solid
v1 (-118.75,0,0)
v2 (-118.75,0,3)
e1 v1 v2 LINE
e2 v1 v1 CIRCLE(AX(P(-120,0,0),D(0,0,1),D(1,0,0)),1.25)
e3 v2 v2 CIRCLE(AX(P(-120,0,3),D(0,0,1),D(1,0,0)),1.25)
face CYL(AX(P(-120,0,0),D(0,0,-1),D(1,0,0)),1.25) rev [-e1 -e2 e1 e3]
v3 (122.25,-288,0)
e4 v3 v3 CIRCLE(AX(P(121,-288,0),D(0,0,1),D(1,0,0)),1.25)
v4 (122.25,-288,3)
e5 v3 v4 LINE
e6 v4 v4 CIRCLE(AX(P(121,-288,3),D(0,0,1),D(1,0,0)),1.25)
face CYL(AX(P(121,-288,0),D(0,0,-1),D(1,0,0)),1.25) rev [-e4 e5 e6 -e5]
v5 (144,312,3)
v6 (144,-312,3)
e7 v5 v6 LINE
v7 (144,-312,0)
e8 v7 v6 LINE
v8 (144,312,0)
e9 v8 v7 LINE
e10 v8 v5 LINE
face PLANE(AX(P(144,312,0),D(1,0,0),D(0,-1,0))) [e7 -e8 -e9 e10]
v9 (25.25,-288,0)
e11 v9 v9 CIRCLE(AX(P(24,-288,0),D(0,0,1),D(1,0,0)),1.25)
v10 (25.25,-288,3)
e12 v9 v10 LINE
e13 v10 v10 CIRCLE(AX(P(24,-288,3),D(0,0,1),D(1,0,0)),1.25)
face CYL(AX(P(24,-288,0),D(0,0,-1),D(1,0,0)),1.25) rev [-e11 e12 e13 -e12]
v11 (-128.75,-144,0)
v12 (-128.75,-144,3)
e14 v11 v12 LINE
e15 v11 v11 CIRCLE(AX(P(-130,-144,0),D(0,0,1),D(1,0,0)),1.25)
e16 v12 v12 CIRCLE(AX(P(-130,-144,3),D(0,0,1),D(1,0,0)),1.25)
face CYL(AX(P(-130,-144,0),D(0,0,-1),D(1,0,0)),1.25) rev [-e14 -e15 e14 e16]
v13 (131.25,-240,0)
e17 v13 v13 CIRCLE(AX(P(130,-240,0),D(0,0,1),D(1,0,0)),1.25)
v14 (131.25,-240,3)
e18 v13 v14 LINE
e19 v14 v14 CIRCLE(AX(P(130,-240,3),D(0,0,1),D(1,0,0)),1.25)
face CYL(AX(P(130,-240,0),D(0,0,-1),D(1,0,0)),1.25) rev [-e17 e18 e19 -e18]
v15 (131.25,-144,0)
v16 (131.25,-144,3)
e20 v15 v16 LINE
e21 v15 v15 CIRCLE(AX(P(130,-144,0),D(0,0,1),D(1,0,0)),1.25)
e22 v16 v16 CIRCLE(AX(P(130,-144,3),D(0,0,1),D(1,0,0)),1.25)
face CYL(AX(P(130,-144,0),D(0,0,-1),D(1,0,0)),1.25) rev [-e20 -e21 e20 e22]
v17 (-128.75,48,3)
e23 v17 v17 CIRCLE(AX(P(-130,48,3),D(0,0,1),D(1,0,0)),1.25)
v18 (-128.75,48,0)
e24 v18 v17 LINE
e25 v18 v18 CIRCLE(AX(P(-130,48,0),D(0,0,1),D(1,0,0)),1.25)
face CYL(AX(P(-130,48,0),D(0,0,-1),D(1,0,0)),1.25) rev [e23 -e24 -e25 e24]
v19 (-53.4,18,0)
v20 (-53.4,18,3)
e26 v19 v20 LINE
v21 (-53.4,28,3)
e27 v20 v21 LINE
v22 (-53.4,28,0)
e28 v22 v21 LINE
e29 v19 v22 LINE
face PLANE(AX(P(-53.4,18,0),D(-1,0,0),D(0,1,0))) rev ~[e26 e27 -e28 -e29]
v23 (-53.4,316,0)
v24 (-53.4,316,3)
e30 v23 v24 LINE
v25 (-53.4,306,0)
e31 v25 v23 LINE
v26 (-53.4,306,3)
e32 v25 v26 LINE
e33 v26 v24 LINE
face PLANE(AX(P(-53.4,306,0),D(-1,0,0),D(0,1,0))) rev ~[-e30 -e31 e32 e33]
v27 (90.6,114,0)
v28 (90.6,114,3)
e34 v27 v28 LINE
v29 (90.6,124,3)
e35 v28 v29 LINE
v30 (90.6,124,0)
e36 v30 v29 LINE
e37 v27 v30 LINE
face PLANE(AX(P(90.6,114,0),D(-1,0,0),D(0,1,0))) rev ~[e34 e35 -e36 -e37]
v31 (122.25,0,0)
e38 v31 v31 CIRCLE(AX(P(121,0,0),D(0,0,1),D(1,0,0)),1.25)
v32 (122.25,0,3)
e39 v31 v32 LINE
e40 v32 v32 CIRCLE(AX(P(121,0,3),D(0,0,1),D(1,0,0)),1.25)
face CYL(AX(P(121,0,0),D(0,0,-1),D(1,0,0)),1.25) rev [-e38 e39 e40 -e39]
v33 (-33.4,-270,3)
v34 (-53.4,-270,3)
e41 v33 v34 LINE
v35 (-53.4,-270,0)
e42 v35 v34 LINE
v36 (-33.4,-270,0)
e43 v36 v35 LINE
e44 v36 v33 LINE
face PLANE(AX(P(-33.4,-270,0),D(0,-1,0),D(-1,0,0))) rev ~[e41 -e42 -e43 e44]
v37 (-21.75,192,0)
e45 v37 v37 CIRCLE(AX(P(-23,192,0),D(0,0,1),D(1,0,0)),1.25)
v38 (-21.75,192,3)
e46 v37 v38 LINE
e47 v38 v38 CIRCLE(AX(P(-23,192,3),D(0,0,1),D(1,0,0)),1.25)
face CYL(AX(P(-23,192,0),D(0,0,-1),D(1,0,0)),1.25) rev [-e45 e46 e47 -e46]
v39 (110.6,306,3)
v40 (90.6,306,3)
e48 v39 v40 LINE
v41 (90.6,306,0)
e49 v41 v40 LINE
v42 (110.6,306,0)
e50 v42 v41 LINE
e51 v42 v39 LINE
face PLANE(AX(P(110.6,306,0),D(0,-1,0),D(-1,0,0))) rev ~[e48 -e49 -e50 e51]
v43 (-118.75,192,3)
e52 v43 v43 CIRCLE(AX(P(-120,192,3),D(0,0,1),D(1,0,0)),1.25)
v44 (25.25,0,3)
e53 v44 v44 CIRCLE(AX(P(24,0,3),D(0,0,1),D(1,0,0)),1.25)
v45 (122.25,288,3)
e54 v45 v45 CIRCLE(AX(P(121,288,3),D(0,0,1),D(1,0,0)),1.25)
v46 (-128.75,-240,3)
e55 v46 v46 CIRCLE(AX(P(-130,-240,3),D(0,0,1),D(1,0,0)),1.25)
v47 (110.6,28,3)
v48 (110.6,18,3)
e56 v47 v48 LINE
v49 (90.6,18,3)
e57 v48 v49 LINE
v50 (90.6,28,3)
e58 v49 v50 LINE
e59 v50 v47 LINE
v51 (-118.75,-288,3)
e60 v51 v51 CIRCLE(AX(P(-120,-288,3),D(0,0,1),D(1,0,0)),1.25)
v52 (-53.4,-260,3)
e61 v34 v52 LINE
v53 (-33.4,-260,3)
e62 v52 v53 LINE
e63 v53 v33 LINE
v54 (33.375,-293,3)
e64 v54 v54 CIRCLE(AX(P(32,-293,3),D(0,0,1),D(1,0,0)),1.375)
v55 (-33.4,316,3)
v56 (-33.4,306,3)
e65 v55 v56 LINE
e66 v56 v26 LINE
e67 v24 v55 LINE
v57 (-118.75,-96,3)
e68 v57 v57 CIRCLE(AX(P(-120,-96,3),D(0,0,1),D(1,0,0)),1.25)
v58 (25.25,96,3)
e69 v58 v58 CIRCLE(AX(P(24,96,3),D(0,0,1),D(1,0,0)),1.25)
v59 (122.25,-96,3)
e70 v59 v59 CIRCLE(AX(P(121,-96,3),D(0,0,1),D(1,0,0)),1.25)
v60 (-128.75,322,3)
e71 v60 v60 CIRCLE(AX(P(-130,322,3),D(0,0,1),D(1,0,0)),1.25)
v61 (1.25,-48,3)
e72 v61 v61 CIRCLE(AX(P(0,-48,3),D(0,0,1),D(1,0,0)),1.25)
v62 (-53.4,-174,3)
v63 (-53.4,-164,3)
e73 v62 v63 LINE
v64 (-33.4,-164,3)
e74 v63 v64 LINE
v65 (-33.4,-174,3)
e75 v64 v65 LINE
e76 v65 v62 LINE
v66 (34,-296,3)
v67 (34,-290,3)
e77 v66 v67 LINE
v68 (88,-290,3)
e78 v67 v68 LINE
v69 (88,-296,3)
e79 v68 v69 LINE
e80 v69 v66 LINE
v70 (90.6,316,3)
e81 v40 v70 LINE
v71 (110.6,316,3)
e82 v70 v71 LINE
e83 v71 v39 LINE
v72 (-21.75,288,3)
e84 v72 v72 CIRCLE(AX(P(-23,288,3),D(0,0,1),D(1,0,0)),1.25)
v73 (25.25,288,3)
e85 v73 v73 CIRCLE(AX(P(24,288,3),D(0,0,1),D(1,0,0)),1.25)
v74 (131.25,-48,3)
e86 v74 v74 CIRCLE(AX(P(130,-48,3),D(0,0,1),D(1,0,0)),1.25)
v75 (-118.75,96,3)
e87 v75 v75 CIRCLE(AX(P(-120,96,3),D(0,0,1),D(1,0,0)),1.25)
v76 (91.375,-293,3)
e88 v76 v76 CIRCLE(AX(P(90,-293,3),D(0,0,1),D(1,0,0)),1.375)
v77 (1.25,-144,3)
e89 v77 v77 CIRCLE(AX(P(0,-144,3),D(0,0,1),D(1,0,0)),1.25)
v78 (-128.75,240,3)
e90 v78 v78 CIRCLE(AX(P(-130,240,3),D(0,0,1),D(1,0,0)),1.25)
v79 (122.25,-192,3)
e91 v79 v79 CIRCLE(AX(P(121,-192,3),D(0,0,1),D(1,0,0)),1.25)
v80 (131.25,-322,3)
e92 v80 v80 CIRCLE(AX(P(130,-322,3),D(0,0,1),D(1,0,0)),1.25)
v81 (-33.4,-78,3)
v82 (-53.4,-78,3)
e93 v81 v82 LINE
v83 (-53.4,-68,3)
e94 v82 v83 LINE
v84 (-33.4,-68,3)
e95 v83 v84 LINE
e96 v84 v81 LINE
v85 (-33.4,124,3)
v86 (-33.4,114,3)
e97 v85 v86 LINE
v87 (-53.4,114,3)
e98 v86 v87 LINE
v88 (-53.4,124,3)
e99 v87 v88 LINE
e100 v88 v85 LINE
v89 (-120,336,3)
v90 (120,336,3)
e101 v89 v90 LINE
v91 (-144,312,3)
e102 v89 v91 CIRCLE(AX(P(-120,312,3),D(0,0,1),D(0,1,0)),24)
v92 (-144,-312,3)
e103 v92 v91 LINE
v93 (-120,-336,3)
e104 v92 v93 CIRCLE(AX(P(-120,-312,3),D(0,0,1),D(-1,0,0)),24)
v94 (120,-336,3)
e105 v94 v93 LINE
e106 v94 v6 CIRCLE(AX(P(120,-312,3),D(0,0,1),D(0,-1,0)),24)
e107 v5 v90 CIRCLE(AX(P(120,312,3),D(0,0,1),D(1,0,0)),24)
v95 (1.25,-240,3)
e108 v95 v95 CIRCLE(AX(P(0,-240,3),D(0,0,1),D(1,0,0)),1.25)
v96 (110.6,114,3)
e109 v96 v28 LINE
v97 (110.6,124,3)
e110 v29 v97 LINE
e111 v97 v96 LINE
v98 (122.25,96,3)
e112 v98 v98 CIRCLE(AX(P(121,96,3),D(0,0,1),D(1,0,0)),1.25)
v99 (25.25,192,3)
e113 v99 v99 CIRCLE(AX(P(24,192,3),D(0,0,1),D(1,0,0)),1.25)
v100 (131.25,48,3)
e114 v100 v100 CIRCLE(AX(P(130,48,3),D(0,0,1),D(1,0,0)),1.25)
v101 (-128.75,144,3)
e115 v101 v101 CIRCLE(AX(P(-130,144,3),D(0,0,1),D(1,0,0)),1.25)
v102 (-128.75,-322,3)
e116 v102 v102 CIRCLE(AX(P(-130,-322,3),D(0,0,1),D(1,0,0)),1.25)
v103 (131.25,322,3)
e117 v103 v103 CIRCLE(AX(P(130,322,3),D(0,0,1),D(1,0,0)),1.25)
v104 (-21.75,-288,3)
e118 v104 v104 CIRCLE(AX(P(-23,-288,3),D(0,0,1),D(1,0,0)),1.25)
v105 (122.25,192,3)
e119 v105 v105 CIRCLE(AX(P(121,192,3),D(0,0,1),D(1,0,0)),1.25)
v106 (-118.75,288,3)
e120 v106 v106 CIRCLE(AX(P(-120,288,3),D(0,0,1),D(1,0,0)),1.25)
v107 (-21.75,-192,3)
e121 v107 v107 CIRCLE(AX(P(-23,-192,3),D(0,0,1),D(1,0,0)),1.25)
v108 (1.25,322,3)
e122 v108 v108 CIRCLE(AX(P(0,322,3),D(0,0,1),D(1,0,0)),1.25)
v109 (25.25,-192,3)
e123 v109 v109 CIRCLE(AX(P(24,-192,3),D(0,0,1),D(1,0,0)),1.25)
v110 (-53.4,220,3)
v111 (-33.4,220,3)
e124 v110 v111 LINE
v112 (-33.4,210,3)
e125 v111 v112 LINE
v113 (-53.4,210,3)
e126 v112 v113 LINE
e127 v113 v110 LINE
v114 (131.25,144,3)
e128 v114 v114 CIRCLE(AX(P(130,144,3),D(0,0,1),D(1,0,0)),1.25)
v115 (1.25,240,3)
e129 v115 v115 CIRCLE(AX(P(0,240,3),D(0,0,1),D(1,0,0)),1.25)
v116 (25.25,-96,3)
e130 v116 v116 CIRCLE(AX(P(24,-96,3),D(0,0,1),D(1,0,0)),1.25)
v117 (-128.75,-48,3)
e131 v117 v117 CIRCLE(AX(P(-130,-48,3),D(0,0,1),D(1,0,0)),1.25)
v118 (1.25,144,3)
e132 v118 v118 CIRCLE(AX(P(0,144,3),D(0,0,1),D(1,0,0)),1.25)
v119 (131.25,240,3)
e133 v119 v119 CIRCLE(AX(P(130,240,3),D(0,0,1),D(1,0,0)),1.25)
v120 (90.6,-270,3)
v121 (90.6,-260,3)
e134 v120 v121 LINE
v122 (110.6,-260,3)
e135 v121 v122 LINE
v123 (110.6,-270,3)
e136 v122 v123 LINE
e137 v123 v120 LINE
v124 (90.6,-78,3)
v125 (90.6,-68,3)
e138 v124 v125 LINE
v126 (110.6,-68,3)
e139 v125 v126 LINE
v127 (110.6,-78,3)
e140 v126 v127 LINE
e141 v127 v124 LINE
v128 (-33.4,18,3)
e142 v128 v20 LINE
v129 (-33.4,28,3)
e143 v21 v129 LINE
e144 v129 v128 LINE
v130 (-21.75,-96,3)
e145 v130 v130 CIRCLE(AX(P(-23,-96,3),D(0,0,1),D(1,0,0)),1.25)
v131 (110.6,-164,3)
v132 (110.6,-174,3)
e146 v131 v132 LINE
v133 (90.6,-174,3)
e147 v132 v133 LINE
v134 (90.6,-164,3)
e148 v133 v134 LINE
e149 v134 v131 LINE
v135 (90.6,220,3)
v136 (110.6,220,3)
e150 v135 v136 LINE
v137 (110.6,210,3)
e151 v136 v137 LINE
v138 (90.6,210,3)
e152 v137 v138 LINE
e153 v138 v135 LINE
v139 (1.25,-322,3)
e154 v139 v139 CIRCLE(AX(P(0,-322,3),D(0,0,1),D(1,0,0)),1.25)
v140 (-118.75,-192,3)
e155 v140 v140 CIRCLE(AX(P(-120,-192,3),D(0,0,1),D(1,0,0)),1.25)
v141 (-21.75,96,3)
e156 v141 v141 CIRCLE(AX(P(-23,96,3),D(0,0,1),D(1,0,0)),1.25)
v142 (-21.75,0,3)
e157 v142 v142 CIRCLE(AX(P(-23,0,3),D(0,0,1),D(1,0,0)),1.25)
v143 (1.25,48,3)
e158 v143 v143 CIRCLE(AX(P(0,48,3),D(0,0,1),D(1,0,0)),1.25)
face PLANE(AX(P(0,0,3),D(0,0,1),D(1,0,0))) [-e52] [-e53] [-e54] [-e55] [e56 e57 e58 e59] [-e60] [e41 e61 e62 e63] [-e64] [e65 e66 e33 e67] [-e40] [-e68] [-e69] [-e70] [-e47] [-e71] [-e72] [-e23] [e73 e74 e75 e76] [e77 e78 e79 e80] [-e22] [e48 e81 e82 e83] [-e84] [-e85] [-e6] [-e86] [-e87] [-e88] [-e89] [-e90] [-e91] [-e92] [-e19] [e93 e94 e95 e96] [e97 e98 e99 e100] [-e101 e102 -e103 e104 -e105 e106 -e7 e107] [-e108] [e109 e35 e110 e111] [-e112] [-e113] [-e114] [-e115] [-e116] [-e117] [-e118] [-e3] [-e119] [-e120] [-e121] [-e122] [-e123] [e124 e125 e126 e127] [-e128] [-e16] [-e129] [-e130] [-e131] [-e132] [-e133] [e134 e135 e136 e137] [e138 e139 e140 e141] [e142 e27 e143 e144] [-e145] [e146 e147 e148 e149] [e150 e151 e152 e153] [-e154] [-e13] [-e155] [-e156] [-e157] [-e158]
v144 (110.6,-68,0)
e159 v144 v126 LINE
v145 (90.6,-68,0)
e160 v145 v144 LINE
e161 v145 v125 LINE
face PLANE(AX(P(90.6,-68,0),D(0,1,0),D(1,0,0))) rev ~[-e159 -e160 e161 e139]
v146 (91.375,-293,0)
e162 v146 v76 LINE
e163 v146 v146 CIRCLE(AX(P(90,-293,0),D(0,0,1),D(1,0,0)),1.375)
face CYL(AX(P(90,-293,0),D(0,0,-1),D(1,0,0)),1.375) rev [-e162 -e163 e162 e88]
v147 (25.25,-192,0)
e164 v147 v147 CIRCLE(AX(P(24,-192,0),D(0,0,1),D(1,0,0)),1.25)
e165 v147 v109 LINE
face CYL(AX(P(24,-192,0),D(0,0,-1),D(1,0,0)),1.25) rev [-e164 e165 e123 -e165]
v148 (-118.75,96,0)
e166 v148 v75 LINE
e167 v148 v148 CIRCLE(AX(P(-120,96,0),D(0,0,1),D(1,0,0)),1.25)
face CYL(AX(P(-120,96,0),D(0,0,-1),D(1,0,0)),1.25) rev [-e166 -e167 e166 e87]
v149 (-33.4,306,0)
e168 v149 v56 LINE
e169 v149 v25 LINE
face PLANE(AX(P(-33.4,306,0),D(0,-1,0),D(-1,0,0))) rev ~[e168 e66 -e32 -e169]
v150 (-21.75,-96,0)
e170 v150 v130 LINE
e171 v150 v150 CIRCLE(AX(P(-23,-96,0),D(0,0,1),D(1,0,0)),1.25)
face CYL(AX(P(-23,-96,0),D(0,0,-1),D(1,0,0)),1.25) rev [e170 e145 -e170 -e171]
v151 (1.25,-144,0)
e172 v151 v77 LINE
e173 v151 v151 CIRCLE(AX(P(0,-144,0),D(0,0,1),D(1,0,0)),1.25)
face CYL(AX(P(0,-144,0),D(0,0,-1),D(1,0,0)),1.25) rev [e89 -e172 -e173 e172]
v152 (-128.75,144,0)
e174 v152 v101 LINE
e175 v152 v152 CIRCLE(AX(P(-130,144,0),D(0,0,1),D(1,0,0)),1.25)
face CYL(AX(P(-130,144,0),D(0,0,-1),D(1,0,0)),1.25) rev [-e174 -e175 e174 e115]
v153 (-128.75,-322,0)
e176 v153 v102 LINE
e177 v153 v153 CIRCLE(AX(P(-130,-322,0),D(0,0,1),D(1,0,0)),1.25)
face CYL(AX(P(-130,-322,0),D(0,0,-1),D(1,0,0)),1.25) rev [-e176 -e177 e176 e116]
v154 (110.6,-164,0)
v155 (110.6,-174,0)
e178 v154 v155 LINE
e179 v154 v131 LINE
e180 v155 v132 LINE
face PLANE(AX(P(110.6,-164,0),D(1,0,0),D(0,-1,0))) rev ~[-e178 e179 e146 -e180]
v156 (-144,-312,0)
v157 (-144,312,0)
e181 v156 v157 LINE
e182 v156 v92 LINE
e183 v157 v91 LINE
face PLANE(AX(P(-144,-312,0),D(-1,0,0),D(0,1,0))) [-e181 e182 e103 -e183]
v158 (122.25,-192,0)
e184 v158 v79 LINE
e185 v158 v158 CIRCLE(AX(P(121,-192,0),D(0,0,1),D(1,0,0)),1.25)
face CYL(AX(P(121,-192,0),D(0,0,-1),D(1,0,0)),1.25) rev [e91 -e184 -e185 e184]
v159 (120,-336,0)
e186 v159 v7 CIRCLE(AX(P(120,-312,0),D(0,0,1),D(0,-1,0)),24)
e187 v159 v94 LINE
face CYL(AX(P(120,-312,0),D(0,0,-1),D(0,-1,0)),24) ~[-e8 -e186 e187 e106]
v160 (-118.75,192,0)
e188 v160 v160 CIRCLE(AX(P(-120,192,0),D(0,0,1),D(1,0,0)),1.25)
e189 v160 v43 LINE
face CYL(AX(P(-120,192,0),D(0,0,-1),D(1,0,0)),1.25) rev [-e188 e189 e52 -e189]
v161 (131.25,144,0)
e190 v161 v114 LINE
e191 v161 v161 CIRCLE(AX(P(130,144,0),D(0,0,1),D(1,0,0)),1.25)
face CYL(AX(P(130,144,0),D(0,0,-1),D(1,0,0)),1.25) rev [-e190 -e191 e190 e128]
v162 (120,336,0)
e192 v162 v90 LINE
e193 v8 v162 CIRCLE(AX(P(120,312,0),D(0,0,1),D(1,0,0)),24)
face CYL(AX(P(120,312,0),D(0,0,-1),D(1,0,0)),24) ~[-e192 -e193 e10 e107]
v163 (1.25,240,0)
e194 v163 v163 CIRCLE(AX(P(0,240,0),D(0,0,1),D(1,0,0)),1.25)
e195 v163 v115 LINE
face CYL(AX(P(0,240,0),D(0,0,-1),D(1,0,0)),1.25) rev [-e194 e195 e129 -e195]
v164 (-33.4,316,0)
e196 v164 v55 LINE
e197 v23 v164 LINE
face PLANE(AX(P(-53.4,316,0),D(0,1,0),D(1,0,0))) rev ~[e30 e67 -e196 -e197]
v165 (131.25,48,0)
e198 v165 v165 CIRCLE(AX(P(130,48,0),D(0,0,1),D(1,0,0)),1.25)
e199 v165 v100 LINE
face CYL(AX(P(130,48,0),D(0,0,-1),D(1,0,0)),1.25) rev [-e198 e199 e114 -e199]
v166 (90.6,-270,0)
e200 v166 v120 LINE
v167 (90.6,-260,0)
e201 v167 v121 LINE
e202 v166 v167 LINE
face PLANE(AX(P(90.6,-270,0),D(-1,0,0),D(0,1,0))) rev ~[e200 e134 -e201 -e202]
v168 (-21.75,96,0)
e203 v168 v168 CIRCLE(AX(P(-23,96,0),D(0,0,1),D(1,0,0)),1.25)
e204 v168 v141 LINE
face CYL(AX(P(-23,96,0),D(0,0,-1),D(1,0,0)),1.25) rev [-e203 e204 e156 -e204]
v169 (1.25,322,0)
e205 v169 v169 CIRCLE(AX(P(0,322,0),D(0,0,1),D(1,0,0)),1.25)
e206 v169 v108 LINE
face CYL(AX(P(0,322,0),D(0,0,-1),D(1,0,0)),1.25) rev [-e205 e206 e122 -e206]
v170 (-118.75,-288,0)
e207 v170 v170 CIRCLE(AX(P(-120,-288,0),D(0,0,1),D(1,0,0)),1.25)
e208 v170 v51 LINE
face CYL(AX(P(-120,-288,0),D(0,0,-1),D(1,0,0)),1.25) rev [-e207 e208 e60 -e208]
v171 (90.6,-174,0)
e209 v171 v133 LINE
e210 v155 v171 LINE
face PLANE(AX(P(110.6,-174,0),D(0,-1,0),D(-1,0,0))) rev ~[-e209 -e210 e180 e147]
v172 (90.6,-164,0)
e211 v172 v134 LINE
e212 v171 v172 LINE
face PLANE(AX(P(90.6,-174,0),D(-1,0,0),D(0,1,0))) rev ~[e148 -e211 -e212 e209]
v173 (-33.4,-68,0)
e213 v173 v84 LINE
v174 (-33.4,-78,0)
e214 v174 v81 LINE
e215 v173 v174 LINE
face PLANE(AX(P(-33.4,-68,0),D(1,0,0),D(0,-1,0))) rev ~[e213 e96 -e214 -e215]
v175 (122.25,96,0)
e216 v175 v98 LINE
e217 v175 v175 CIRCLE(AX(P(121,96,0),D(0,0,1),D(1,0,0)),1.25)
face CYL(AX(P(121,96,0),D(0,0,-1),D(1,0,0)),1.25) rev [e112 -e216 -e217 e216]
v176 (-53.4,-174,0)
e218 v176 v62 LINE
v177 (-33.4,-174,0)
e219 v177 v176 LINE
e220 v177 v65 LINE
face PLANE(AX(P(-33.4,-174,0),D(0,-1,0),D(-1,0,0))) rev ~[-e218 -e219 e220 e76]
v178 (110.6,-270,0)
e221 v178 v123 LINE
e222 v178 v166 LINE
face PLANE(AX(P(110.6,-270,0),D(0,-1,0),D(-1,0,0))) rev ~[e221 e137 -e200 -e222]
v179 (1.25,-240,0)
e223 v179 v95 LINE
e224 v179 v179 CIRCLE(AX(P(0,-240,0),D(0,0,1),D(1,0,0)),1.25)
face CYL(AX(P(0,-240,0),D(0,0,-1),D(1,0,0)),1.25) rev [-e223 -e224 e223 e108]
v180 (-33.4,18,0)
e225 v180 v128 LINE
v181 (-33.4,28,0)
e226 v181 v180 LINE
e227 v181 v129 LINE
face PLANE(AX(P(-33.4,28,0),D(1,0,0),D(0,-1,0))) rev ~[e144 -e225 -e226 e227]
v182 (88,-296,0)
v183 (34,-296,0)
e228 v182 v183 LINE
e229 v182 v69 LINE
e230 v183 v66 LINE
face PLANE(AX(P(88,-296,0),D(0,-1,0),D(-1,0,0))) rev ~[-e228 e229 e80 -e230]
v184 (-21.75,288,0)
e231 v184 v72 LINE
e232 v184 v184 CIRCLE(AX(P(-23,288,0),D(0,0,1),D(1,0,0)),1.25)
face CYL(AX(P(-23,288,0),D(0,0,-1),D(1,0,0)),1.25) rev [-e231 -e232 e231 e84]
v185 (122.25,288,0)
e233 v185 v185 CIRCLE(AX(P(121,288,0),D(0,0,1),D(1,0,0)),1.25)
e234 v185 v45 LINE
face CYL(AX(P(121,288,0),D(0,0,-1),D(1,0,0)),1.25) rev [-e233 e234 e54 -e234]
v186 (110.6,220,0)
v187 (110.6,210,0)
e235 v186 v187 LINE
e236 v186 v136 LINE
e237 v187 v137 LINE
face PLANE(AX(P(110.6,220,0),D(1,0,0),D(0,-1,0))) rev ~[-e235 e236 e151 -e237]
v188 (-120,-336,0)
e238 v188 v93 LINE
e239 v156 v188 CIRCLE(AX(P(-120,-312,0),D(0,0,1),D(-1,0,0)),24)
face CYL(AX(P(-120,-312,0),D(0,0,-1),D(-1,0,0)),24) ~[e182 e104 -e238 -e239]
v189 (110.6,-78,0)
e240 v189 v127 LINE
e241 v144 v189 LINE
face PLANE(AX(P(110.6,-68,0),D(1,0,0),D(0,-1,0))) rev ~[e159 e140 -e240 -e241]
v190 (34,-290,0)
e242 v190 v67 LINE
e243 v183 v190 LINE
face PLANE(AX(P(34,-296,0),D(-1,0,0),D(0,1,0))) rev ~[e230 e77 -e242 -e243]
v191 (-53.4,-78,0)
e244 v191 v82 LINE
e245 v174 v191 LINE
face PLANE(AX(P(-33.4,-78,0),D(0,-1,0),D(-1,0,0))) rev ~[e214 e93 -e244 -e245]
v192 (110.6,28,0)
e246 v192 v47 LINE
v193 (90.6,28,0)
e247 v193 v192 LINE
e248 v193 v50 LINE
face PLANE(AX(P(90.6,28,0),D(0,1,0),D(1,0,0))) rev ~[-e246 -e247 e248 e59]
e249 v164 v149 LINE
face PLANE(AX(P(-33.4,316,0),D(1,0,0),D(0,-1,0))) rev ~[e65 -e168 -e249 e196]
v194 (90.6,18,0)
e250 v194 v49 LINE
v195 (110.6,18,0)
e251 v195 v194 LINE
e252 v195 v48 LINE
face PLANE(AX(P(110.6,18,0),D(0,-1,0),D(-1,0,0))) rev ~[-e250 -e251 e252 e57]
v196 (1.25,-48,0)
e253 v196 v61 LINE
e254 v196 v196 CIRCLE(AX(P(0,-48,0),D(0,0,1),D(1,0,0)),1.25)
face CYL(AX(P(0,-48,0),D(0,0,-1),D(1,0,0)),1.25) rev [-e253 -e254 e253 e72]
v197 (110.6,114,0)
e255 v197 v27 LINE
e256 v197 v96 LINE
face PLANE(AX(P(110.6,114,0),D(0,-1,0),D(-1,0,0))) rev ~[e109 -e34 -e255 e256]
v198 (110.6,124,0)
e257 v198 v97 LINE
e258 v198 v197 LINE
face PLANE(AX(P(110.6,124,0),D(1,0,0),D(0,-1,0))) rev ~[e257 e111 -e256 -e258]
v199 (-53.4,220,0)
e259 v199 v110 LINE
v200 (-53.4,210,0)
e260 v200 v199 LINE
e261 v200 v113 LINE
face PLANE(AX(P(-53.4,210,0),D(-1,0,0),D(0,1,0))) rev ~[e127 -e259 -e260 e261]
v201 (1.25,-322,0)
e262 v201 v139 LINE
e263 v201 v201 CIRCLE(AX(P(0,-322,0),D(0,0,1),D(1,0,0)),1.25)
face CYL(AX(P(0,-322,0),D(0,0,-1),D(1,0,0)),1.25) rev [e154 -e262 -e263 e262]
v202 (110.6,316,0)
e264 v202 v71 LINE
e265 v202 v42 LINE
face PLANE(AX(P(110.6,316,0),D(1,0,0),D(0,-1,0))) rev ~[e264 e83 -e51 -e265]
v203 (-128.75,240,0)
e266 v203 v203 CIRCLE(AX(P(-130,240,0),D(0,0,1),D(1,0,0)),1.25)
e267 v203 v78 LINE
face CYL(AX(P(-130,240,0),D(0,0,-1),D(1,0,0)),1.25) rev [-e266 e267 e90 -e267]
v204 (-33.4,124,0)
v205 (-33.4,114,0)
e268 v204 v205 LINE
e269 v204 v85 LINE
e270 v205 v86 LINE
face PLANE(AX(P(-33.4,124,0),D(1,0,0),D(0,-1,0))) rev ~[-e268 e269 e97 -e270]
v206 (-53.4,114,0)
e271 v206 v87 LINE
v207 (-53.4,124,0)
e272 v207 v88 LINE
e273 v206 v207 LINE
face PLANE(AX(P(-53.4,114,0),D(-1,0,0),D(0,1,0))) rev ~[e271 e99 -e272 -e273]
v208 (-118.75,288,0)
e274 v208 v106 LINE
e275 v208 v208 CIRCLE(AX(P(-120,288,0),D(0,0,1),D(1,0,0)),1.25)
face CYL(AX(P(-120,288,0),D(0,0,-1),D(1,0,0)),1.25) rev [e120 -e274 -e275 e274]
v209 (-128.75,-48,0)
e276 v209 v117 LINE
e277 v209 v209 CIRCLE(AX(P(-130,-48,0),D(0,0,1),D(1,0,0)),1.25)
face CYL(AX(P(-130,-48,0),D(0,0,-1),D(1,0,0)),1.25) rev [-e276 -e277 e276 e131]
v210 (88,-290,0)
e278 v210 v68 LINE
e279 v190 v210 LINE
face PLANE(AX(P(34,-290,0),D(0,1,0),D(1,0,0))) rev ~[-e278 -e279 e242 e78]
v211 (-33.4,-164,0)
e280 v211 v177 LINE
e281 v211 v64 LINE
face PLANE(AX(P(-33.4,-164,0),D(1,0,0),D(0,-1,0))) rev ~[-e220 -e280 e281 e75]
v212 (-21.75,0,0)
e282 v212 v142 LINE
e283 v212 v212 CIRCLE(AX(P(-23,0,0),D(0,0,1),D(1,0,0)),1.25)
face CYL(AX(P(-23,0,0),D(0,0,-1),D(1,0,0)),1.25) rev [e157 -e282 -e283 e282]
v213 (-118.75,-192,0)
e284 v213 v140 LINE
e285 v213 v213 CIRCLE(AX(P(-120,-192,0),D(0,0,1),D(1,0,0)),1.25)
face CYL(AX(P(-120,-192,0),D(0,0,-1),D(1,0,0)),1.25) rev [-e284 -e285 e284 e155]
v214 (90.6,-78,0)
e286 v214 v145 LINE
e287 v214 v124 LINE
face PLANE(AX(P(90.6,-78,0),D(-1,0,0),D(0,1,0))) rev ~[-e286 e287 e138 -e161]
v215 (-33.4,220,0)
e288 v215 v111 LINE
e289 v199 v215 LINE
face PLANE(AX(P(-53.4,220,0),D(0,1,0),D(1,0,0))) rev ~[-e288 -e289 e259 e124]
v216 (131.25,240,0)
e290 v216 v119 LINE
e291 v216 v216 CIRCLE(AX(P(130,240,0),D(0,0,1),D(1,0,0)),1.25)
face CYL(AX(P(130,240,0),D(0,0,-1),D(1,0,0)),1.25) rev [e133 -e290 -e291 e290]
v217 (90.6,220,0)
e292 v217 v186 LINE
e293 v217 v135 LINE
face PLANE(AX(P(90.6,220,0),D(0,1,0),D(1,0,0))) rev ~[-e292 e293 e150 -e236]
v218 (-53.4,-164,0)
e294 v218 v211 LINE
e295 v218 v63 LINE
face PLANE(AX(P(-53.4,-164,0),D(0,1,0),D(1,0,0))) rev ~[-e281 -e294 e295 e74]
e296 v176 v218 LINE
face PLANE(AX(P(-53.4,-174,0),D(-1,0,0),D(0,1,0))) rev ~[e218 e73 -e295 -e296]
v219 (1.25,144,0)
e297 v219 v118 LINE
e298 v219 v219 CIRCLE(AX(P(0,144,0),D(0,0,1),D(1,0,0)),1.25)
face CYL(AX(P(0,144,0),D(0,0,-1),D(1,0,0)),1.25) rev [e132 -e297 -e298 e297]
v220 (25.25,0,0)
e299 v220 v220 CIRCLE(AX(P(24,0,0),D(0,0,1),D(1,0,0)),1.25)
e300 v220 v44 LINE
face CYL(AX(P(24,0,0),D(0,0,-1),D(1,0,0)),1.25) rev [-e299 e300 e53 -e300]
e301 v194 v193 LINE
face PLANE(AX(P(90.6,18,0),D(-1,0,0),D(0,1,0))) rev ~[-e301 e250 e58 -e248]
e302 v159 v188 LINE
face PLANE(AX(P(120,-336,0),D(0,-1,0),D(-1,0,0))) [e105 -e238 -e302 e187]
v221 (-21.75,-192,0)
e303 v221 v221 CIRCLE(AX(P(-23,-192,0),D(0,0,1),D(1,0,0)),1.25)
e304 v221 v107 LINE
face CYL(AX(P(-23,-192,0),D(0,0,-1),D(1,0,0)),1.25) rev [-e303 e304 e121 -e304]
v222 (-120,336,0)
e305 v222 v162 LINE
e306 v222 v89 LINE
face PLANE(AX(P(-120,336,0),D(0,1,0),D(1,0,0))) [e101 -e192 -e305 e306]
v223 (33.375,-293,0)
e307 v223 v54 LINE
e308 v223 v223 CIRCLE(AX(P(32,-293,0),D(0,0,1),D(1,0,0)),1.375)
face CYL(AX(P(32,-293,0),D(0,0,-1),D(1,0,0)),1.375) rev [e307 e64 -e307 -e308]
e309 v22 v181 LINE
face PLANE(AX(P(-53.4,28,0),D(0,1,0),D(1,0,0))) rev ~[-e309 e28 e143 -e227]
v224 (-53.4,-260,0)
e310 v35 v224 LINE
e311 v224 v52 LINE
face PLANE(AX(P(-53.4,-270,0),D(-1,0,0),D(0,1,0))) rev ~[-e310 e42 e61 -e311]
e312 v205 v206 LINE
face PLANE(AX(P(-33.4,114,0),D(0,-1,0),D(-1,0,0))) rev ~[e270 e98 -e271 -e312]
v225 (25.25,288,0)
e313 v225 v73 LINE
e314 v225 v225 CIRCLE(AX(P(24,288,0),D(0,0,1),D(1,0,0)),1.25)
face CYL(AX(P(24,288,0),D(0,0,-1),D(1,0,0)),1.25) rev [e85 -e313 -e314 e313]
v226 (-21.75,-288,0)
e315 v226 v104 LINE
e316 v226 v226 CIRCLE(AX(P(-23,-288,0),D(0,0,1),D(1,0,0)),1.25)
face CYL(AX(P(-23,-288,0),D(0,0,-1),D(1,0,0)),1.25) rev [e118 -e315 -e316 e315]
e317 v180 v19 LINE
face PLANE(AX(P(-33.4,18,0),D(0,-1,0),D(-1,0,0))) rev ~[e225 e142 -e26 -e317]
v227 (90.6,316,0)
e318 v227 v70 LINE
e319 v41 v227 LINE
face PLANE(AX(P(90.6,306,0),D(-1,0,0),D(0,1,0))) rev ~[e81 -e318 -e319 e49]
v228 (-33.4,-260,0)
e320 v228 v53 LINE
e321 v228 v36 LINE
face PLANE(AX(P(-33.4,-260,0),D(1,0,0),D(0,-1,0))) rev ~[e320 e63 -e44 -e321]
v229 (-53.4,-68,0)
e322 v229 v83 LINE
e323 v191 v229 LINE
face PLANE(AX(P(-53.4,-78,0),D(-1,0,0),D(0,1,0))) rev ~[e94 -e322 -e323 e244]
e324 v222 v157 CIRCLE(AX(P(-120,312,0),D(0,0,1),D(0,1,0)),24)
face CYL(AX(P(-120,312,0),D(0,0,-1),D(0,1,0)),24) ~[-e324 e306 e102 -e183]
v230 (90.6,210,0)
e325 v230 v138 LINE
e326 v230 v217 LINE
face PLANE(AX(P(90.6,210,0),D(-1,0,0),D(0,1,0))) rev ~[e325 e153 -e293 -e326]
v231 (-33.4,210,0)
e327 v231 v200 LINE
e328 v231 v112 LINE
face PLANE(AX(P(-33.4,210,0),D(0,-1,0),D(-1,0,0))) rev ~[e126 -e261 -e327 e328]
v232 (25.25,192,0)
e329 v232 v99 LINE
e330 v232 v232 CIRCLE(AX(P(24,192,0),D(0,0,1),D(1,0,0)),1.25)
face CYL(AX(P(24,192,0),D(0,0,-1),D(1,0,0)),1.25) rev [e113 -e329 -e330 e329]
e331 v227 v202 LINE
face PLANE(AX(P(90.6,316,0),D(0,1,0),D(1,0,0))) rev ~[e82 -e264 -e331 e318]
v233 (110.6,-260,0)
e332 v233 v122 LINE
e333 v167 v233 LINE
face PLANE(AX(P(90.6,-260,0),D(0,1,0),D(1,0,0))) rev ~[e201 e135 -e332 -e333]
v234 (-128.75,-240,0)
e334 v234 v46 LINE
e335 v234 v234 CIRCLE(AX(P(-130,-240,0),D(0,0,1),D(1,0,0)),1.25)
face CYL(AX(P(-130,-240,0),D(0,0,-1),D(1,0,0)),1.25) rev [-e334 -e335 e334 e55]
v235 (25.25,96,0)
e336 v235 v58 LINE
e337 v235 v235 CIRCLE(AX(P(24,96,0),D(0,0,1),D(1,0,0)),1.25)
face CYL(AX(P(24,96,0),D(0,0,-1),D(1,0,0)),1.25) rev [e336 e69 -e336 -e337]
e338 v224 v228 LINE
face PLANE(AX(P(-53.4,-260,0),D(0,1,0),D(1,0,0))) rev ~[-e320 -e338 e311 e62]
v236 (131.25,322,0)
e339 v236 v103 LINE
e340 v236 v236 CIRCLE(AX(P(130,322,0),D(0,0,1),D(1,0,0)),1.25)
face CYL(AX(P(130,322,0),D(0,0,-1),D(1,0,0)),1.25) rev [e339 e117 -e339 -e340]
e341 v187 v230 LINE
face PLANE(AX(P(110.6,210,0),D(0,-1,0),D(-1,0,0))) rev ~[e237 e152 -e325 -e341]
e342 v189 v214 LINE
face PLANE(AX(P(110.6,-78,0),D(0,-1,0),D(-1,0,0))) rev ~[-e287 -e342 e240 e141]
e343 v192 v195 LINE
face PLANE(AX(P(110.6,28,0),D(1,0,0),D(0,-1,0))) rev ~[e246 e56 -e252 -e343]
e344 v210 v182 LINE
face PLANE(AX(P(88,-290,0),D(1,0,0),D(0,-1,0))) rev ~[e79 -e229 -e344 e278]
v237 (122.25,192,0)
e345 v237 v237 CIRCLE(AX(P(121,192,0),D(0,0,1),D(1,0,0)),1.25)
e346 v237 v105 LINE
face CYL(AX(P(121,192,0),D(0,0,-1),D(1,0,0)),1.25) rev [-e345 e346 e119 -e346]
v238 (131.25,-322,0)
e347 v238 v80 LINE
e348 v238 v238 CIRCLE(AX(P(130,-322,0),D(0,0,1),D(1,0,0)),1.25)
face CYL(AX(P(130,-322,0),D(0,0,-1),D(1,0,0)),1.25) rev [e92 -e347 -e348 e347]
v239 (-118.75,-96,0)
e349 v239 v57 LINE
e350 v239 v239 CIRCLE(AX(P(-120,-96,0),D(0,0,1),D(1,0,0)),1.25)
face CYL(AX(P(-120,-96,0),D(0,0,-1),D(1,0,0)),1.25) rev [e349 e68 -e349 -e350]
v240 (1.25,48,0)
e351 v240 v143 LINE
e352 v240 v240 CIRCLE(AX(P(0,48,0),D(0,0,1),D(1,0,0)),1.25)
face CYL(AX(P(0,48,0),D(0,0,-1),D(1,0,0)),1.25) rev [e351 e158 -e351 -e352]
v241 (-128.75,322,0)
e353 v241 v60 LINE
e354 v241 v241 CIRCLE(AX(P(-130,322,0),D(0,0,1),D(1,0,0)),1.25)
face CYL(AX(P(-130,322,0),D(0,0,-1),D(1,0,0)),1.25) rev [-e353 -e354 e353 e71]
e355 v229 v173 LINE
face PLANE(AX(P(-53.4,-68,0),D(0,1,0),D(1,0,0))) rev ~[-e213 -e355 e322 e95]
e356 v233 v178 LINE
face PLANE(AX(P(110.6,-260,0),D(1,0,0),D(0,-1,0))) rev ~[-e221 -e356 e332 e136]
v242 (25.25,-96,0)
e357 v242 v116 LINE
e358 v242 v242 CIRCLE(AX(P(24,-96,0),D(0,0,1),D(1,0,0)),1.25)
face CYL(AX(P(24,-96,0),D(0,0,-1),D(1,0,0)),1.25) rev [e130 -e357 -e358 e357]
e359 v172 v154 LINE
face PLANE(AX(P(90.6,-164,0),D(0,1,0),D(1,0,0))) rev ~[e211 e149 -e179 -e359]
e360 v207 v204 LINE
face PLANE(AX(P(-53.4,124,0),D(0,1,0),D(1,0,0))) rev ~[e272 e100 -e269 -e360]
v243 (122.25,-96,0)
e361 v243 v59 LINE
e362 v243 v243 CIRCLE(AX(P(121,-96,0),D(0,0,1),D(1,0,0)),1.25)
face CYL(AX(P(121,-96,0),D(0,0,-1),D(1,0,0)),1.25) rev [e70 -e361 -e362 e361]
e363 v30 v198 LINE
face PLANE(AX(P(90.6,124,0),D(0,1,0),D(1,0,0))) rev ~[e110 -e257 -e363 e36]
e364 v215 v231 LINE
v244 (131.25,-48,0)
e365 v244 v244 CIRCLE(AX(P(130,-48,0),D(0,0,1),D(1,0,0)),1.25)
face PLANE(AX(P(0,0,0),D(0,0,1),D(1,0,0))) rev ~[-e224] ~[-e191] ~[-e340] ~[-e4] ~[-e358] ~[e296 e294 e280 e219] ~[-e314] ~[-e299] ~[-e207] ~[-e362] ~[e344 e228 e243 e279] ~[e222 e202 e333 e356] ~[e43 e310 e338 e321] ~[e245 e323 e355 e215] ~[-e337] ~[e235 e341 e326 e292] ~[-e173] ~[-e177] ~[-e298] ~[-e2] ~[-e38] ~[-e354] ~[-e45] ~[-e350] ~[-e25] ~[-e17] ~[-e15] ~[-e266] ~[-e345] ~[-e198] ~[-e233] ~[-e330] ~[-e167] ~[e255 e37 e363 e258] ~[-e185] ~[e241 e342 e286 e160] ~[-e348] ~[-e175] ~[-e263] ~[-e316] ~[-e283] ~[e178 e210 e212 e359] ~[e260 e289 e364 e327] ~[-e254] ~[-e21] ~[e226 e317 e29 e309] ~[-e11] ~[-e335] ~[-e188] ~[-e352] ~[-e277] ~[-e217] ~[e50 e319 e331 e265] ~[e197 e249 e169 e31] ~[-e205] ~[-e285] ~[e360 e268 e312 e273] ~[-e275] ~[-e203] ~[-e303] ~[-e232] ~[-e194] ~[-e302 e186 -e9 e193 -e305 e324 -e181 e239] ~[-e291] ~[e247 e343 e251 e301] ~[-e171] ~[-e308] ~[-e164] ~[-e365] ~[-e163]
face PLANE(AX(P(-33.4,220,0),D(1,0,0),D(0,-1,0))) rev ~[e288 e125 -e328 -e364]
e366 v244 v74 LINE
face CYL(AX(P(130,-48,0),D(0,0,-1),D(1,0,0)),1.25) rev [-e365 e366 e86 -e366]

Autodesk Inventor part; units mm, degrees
ref_plane "YZ Plane" through (0, 0, 0) normal (1, 0, 0) x (0, 1, 0)
ref_plane "XZ Plane" through (0, 0, 0) normal (0, 1, 0) x (-1, 0, 0)
ref_plane "XY Plane" through (0, 0, 0) normal (0, 0, 1) x (1, 0, 0)
sketch "Esquisse1" plane through (0, 0, 0) normal (0, 0, 1) x (1, 0, 0)
  line L0 (-120, 336) -> (120, 336)
  line L1 (144, 312) -> (144, -312)
  line L2 (120, -336) -> (-120, -336)
  line L3 (-144, -312) -> (-144, 312)
  circle A0 centre (121, -288) radius 1.25
  circle A1 centre (24, -288) radius 1.25
  line L4 (90.6, -260) -> (110.6, -260)
  line L5 (110.6, -260) -> (110.6, -270)
  line L6 (110.6, -270) -> (90.6, -270)
  line L7 (90.6, -270) -> (90.6, -260)
  line L8 (90.6, -164) -> (110.6, -164)
  line L9 (110.6, -164) -> (110.6, -174)
  line L10 (90.6, -174) -> (90.6, -164)
  line L11 (110.6, -174) -> (90.6, -174)
  circle A2 centre (24, -192) radius 1.25
  circle A3 centre (121, -192) radius 1.25
  line L12 (90.6, -68) -> (110.6, -68)
  line L13 (110.6, -68) -> (110.6, -78)
  line L14 (90.6, -78) -> (90.6, -68)
  line L15 (110.6, -78) -> (90.6, -78)
  circle A4 centre (24, -96) radius 1.25
  circle A5 centre (121, -96) radius 1.25
  line L16 (90.6, 28) -> (110.6, 28)
  line L17 (110.6, 28) -> (110.6, 18)
  line L18 (90.6, 18) -> (90.6, 28)
  line L19 (110.6, 18) -> (90.6, 18)
  circle A6 centre (24, 0) radius 1.25
  circle A7 centre (121, 0) radius 1.25
  line L20 (90.6, 124) -> (110.6, 124)
  line L21 (110.6, 124) -> (110.6, 114)
  line L22 (90.6, 114) -> (90.6, 124)
  line L23 (110.6, 114) -> (90.6, 114)
  circle A8 centre (24, 96) radius 1.25
  circle A9 centre (121, 96) radius 1.25
  line L24 (90.6, 220) -> (110.6, 220)
  line L25 (110.6, 220) -> (110.6, 210)
  line L26 (90.6, 210) -> (90.6, 220)
  line L27 (110.6, 210) -> (90.6, 210)
  circle A10 centre (24, 192) radius 1.25
  circle A11 centre (121, 192) radius 1.25
  line L28 (90.6, 316) -> (110.6, 316)
  line L29 (110.6, 316) -> (110.6, 306)
  line L30 (90.6, 306) -> (90.6, 316)
  line L31 (110.6, 306) -> (90.6, 306)
  circle A12 centre (24, 288) radius 1.25
  circle A13 centre (121, 288) radius 1.25
  line L32 (-53.4, -260) -> (-33.4, -260)
  line L33 (-33.4, -260) -> (-33.4, -270)
  line L34 (-53.4, -270) -> (-53.4, -260)
  line L35 (-33.4, -270) -> (-53.4, -270)
  circle A14 centre (-120, -288) radius 1.25
  circle A15 centre (-23, -288) radius 1.25
  line L36 (-53.4, -164) -> (-33.4, -164)
  line L37 (-33.4, -164) -> (-33.4, -174)
  line L38 (-53.4, -174) -> (-53.4, -164)
  line L39 (-33.4, -174) -> (-53.4, -174)
  circle A16 centre (-120, -192) radius 1.25
  circle A17 centre (-23, -192) radius 1.25
  line L40 (-53.4, -68) -> (-33.4, -68)
  line L41 (-33.4, -68) -> (-33.4, -78)
  line L42 (-53.4, -78) -> (-53.4, -68)
  line L43 (-33.4, -78) -> (-53.4, -78)
  circle A18 centre (-120, -96) radius 1.25
  circle A19 centre (-23, -96) radius 1.25
  line L44 (-53.4, 28) -> (-33.4, 28)
  line L45 (-33.4, 28) -> (-33.4, 18)
  line L46 (-53.4, 18) -> (-53.4, 28)
  line L47 (-33.4, 18) -> (-53.4, 18)
  circle A20 centre (-120, 0) radius 1.25
  circle A21 centre (-23, 0) radius 1.25
  line L48 (-53.4, 124) -> (-33.4, 124)
  line L49 (-33.4, 124) -> (-33.4, 114)
  line L50 (-53.4, 114) -> (-53.4, 124)
  line L51 (-33.4, 114) -> (-53.4, 114)
  circle A22 centre (-120, 96) radius 1.25
  circle A23 centre (-23, 96) radius 1.25
  line L52 (-53.4, 220) -> (-33.4, 220)
  line L53 (-33.4, 220) -> (-33.4, 210)
  line L54 (-53.4, 210) -> (-53.4, 220)
  line L55 (-33.4, 210) -> (-53.4, 210)
  circle A24 centre (-120, 192) radius 1.25
  circle A25 centre (-23, 192) radius 1.25
  line L56 (-53.4, 316) -> (-33.4, 316)
  line L57 (-33.4, 316) -> (-33.4, 306)
  line L58 (-53.4, 306) -> (-53.4, 316)
  line L59 (-33.4, 306) -> (-53.4, 306)
  circle A26 centre (-120, 288) radius 1.25
  circle A27 centre (-23, 288) radius 1.25
  circle A28 centre (130, -322) radius 1.25
  circle A29 centre (130, 322) radius 1.25
  circle A30 centre (0, -322) radius 1.25
  circle A31 centre (0, 322) radius 1.25
  circle A32 centre (-130, -322) radius 1.25
  circle A33 centre (-130, 322) radius 1.25
  circle A34 centre (130, -240) radius 1.25
  circle A35 centre (130, -144) radius 1.25
  circle A36 centre (130, -48) radius 1.25
  circle A37 centre (130, 48) radius 1.25
  circle A38 centre (130, 144) radius 1.25
  circle A39 centre (130, 240) radius 1.25
  circle A40 centre (0, -240) radius 1.25
  circle A41 centre (0, -144) radius 1.25
  circle A42 centre (0, -48) radius 1.25
  circle A43 centre (0, 48) radius 1.25
  circle A44 centre (0, 144) radius 1.25
  circle A45 centre (0, 240) radius 1.25
  circle A46 centre (-130, -240) radius 1.25
  circle A47 centre (-130, -144) radius 1.25
  circle A48 centre (-130, -48) radius 1.25
  circle A49 centre (-130, 48) radius 1.25
  circle A50 centre (-130, 144) radius 1.25
  circle A51 centre (-130, 240) radius 1.25
  arc A52 (-120, 336) -> (-144, 312) centre (-120, 312) ccw
  arc A53 (144, 312) -> (120, 336) centre (120, 312) ccw
  arc A54 (-144, -312) -> (-120, -336) centre (-120, -312) ccw
  arc A55 (120, -336) -> (144, -312) centre (120, -312) ccw
  line L60 (34, -290) -> (88, -290)
  line L61 (88, -290) -> (88, -296)
  line L62 (88, -296) -> (34, -296)
  line L63 (34, -296) -> (34, -290)
  circle A56 centre (32, -293) radius 1.375
  circle A57 centre (90, -293) radius 1.375
  point P0 (0, 0)
  point P1 (-144, 336)
  point P2 (144, 336)
  point P3 (-144, -336)
  dimension "d0" = 288
  dimension "d1" = 672
  dimension "d2" = 144
  dimension "d3" = 336
  dimension "d4" = 2.5
  dimension "d5" = 2.5
  dimension "d6" = 97
  dimension "d7" = 48
  dimension "d8" = 48
  dimension "d9" = 23
  dimension "d10" = 20
  dimension "d11" = 10
  dimension "d12" = 33.4
  dimension "d13" = 66
  dimension "d16" = 96
  dimension "d19" = 144
  dimension "d22" = 2.5
  dimension "d23" = 14
  dimension "d24" = 14
  dimension "d27" = 644
  dimension "d30" = 130
  dimension "d33" = 2.5
  dimension "d34" = 14
  dimension "d35" = 96
  dimension "d38" = 96
  dimension "d41" = 130
  dimension "d44" = 24
  dimension "d45" = 24
  dimension "d46" = 24
  dimension "d47" = 24
  dimension "d48" = 54
  dimension "d49" = 6
  dimension "d50" = 2.75
  dimension "d51" = 2.75
  dimension "d52" = 3
  dimension "d53" = 3
  dimension "d54" = 58
  dimension "d55" = 2
  dimension "d56" = 40
  dimension "d57" = 56
extrude "Extrusion1" add sketch "Esquisse1" along normal blind 3
equation "\"d2\" = 0.5 * d0"
equation "\"d3\" = 0.5 * d1"
equation "\"d51\" = d50"
equation "\"d52\" = 0.5 * d49"
equation "\"d53\" = 0.5 * d49"
equation "\"d55\" = -0.5 * d48 + 0.5 * d54"
properties part number "back_Box"
